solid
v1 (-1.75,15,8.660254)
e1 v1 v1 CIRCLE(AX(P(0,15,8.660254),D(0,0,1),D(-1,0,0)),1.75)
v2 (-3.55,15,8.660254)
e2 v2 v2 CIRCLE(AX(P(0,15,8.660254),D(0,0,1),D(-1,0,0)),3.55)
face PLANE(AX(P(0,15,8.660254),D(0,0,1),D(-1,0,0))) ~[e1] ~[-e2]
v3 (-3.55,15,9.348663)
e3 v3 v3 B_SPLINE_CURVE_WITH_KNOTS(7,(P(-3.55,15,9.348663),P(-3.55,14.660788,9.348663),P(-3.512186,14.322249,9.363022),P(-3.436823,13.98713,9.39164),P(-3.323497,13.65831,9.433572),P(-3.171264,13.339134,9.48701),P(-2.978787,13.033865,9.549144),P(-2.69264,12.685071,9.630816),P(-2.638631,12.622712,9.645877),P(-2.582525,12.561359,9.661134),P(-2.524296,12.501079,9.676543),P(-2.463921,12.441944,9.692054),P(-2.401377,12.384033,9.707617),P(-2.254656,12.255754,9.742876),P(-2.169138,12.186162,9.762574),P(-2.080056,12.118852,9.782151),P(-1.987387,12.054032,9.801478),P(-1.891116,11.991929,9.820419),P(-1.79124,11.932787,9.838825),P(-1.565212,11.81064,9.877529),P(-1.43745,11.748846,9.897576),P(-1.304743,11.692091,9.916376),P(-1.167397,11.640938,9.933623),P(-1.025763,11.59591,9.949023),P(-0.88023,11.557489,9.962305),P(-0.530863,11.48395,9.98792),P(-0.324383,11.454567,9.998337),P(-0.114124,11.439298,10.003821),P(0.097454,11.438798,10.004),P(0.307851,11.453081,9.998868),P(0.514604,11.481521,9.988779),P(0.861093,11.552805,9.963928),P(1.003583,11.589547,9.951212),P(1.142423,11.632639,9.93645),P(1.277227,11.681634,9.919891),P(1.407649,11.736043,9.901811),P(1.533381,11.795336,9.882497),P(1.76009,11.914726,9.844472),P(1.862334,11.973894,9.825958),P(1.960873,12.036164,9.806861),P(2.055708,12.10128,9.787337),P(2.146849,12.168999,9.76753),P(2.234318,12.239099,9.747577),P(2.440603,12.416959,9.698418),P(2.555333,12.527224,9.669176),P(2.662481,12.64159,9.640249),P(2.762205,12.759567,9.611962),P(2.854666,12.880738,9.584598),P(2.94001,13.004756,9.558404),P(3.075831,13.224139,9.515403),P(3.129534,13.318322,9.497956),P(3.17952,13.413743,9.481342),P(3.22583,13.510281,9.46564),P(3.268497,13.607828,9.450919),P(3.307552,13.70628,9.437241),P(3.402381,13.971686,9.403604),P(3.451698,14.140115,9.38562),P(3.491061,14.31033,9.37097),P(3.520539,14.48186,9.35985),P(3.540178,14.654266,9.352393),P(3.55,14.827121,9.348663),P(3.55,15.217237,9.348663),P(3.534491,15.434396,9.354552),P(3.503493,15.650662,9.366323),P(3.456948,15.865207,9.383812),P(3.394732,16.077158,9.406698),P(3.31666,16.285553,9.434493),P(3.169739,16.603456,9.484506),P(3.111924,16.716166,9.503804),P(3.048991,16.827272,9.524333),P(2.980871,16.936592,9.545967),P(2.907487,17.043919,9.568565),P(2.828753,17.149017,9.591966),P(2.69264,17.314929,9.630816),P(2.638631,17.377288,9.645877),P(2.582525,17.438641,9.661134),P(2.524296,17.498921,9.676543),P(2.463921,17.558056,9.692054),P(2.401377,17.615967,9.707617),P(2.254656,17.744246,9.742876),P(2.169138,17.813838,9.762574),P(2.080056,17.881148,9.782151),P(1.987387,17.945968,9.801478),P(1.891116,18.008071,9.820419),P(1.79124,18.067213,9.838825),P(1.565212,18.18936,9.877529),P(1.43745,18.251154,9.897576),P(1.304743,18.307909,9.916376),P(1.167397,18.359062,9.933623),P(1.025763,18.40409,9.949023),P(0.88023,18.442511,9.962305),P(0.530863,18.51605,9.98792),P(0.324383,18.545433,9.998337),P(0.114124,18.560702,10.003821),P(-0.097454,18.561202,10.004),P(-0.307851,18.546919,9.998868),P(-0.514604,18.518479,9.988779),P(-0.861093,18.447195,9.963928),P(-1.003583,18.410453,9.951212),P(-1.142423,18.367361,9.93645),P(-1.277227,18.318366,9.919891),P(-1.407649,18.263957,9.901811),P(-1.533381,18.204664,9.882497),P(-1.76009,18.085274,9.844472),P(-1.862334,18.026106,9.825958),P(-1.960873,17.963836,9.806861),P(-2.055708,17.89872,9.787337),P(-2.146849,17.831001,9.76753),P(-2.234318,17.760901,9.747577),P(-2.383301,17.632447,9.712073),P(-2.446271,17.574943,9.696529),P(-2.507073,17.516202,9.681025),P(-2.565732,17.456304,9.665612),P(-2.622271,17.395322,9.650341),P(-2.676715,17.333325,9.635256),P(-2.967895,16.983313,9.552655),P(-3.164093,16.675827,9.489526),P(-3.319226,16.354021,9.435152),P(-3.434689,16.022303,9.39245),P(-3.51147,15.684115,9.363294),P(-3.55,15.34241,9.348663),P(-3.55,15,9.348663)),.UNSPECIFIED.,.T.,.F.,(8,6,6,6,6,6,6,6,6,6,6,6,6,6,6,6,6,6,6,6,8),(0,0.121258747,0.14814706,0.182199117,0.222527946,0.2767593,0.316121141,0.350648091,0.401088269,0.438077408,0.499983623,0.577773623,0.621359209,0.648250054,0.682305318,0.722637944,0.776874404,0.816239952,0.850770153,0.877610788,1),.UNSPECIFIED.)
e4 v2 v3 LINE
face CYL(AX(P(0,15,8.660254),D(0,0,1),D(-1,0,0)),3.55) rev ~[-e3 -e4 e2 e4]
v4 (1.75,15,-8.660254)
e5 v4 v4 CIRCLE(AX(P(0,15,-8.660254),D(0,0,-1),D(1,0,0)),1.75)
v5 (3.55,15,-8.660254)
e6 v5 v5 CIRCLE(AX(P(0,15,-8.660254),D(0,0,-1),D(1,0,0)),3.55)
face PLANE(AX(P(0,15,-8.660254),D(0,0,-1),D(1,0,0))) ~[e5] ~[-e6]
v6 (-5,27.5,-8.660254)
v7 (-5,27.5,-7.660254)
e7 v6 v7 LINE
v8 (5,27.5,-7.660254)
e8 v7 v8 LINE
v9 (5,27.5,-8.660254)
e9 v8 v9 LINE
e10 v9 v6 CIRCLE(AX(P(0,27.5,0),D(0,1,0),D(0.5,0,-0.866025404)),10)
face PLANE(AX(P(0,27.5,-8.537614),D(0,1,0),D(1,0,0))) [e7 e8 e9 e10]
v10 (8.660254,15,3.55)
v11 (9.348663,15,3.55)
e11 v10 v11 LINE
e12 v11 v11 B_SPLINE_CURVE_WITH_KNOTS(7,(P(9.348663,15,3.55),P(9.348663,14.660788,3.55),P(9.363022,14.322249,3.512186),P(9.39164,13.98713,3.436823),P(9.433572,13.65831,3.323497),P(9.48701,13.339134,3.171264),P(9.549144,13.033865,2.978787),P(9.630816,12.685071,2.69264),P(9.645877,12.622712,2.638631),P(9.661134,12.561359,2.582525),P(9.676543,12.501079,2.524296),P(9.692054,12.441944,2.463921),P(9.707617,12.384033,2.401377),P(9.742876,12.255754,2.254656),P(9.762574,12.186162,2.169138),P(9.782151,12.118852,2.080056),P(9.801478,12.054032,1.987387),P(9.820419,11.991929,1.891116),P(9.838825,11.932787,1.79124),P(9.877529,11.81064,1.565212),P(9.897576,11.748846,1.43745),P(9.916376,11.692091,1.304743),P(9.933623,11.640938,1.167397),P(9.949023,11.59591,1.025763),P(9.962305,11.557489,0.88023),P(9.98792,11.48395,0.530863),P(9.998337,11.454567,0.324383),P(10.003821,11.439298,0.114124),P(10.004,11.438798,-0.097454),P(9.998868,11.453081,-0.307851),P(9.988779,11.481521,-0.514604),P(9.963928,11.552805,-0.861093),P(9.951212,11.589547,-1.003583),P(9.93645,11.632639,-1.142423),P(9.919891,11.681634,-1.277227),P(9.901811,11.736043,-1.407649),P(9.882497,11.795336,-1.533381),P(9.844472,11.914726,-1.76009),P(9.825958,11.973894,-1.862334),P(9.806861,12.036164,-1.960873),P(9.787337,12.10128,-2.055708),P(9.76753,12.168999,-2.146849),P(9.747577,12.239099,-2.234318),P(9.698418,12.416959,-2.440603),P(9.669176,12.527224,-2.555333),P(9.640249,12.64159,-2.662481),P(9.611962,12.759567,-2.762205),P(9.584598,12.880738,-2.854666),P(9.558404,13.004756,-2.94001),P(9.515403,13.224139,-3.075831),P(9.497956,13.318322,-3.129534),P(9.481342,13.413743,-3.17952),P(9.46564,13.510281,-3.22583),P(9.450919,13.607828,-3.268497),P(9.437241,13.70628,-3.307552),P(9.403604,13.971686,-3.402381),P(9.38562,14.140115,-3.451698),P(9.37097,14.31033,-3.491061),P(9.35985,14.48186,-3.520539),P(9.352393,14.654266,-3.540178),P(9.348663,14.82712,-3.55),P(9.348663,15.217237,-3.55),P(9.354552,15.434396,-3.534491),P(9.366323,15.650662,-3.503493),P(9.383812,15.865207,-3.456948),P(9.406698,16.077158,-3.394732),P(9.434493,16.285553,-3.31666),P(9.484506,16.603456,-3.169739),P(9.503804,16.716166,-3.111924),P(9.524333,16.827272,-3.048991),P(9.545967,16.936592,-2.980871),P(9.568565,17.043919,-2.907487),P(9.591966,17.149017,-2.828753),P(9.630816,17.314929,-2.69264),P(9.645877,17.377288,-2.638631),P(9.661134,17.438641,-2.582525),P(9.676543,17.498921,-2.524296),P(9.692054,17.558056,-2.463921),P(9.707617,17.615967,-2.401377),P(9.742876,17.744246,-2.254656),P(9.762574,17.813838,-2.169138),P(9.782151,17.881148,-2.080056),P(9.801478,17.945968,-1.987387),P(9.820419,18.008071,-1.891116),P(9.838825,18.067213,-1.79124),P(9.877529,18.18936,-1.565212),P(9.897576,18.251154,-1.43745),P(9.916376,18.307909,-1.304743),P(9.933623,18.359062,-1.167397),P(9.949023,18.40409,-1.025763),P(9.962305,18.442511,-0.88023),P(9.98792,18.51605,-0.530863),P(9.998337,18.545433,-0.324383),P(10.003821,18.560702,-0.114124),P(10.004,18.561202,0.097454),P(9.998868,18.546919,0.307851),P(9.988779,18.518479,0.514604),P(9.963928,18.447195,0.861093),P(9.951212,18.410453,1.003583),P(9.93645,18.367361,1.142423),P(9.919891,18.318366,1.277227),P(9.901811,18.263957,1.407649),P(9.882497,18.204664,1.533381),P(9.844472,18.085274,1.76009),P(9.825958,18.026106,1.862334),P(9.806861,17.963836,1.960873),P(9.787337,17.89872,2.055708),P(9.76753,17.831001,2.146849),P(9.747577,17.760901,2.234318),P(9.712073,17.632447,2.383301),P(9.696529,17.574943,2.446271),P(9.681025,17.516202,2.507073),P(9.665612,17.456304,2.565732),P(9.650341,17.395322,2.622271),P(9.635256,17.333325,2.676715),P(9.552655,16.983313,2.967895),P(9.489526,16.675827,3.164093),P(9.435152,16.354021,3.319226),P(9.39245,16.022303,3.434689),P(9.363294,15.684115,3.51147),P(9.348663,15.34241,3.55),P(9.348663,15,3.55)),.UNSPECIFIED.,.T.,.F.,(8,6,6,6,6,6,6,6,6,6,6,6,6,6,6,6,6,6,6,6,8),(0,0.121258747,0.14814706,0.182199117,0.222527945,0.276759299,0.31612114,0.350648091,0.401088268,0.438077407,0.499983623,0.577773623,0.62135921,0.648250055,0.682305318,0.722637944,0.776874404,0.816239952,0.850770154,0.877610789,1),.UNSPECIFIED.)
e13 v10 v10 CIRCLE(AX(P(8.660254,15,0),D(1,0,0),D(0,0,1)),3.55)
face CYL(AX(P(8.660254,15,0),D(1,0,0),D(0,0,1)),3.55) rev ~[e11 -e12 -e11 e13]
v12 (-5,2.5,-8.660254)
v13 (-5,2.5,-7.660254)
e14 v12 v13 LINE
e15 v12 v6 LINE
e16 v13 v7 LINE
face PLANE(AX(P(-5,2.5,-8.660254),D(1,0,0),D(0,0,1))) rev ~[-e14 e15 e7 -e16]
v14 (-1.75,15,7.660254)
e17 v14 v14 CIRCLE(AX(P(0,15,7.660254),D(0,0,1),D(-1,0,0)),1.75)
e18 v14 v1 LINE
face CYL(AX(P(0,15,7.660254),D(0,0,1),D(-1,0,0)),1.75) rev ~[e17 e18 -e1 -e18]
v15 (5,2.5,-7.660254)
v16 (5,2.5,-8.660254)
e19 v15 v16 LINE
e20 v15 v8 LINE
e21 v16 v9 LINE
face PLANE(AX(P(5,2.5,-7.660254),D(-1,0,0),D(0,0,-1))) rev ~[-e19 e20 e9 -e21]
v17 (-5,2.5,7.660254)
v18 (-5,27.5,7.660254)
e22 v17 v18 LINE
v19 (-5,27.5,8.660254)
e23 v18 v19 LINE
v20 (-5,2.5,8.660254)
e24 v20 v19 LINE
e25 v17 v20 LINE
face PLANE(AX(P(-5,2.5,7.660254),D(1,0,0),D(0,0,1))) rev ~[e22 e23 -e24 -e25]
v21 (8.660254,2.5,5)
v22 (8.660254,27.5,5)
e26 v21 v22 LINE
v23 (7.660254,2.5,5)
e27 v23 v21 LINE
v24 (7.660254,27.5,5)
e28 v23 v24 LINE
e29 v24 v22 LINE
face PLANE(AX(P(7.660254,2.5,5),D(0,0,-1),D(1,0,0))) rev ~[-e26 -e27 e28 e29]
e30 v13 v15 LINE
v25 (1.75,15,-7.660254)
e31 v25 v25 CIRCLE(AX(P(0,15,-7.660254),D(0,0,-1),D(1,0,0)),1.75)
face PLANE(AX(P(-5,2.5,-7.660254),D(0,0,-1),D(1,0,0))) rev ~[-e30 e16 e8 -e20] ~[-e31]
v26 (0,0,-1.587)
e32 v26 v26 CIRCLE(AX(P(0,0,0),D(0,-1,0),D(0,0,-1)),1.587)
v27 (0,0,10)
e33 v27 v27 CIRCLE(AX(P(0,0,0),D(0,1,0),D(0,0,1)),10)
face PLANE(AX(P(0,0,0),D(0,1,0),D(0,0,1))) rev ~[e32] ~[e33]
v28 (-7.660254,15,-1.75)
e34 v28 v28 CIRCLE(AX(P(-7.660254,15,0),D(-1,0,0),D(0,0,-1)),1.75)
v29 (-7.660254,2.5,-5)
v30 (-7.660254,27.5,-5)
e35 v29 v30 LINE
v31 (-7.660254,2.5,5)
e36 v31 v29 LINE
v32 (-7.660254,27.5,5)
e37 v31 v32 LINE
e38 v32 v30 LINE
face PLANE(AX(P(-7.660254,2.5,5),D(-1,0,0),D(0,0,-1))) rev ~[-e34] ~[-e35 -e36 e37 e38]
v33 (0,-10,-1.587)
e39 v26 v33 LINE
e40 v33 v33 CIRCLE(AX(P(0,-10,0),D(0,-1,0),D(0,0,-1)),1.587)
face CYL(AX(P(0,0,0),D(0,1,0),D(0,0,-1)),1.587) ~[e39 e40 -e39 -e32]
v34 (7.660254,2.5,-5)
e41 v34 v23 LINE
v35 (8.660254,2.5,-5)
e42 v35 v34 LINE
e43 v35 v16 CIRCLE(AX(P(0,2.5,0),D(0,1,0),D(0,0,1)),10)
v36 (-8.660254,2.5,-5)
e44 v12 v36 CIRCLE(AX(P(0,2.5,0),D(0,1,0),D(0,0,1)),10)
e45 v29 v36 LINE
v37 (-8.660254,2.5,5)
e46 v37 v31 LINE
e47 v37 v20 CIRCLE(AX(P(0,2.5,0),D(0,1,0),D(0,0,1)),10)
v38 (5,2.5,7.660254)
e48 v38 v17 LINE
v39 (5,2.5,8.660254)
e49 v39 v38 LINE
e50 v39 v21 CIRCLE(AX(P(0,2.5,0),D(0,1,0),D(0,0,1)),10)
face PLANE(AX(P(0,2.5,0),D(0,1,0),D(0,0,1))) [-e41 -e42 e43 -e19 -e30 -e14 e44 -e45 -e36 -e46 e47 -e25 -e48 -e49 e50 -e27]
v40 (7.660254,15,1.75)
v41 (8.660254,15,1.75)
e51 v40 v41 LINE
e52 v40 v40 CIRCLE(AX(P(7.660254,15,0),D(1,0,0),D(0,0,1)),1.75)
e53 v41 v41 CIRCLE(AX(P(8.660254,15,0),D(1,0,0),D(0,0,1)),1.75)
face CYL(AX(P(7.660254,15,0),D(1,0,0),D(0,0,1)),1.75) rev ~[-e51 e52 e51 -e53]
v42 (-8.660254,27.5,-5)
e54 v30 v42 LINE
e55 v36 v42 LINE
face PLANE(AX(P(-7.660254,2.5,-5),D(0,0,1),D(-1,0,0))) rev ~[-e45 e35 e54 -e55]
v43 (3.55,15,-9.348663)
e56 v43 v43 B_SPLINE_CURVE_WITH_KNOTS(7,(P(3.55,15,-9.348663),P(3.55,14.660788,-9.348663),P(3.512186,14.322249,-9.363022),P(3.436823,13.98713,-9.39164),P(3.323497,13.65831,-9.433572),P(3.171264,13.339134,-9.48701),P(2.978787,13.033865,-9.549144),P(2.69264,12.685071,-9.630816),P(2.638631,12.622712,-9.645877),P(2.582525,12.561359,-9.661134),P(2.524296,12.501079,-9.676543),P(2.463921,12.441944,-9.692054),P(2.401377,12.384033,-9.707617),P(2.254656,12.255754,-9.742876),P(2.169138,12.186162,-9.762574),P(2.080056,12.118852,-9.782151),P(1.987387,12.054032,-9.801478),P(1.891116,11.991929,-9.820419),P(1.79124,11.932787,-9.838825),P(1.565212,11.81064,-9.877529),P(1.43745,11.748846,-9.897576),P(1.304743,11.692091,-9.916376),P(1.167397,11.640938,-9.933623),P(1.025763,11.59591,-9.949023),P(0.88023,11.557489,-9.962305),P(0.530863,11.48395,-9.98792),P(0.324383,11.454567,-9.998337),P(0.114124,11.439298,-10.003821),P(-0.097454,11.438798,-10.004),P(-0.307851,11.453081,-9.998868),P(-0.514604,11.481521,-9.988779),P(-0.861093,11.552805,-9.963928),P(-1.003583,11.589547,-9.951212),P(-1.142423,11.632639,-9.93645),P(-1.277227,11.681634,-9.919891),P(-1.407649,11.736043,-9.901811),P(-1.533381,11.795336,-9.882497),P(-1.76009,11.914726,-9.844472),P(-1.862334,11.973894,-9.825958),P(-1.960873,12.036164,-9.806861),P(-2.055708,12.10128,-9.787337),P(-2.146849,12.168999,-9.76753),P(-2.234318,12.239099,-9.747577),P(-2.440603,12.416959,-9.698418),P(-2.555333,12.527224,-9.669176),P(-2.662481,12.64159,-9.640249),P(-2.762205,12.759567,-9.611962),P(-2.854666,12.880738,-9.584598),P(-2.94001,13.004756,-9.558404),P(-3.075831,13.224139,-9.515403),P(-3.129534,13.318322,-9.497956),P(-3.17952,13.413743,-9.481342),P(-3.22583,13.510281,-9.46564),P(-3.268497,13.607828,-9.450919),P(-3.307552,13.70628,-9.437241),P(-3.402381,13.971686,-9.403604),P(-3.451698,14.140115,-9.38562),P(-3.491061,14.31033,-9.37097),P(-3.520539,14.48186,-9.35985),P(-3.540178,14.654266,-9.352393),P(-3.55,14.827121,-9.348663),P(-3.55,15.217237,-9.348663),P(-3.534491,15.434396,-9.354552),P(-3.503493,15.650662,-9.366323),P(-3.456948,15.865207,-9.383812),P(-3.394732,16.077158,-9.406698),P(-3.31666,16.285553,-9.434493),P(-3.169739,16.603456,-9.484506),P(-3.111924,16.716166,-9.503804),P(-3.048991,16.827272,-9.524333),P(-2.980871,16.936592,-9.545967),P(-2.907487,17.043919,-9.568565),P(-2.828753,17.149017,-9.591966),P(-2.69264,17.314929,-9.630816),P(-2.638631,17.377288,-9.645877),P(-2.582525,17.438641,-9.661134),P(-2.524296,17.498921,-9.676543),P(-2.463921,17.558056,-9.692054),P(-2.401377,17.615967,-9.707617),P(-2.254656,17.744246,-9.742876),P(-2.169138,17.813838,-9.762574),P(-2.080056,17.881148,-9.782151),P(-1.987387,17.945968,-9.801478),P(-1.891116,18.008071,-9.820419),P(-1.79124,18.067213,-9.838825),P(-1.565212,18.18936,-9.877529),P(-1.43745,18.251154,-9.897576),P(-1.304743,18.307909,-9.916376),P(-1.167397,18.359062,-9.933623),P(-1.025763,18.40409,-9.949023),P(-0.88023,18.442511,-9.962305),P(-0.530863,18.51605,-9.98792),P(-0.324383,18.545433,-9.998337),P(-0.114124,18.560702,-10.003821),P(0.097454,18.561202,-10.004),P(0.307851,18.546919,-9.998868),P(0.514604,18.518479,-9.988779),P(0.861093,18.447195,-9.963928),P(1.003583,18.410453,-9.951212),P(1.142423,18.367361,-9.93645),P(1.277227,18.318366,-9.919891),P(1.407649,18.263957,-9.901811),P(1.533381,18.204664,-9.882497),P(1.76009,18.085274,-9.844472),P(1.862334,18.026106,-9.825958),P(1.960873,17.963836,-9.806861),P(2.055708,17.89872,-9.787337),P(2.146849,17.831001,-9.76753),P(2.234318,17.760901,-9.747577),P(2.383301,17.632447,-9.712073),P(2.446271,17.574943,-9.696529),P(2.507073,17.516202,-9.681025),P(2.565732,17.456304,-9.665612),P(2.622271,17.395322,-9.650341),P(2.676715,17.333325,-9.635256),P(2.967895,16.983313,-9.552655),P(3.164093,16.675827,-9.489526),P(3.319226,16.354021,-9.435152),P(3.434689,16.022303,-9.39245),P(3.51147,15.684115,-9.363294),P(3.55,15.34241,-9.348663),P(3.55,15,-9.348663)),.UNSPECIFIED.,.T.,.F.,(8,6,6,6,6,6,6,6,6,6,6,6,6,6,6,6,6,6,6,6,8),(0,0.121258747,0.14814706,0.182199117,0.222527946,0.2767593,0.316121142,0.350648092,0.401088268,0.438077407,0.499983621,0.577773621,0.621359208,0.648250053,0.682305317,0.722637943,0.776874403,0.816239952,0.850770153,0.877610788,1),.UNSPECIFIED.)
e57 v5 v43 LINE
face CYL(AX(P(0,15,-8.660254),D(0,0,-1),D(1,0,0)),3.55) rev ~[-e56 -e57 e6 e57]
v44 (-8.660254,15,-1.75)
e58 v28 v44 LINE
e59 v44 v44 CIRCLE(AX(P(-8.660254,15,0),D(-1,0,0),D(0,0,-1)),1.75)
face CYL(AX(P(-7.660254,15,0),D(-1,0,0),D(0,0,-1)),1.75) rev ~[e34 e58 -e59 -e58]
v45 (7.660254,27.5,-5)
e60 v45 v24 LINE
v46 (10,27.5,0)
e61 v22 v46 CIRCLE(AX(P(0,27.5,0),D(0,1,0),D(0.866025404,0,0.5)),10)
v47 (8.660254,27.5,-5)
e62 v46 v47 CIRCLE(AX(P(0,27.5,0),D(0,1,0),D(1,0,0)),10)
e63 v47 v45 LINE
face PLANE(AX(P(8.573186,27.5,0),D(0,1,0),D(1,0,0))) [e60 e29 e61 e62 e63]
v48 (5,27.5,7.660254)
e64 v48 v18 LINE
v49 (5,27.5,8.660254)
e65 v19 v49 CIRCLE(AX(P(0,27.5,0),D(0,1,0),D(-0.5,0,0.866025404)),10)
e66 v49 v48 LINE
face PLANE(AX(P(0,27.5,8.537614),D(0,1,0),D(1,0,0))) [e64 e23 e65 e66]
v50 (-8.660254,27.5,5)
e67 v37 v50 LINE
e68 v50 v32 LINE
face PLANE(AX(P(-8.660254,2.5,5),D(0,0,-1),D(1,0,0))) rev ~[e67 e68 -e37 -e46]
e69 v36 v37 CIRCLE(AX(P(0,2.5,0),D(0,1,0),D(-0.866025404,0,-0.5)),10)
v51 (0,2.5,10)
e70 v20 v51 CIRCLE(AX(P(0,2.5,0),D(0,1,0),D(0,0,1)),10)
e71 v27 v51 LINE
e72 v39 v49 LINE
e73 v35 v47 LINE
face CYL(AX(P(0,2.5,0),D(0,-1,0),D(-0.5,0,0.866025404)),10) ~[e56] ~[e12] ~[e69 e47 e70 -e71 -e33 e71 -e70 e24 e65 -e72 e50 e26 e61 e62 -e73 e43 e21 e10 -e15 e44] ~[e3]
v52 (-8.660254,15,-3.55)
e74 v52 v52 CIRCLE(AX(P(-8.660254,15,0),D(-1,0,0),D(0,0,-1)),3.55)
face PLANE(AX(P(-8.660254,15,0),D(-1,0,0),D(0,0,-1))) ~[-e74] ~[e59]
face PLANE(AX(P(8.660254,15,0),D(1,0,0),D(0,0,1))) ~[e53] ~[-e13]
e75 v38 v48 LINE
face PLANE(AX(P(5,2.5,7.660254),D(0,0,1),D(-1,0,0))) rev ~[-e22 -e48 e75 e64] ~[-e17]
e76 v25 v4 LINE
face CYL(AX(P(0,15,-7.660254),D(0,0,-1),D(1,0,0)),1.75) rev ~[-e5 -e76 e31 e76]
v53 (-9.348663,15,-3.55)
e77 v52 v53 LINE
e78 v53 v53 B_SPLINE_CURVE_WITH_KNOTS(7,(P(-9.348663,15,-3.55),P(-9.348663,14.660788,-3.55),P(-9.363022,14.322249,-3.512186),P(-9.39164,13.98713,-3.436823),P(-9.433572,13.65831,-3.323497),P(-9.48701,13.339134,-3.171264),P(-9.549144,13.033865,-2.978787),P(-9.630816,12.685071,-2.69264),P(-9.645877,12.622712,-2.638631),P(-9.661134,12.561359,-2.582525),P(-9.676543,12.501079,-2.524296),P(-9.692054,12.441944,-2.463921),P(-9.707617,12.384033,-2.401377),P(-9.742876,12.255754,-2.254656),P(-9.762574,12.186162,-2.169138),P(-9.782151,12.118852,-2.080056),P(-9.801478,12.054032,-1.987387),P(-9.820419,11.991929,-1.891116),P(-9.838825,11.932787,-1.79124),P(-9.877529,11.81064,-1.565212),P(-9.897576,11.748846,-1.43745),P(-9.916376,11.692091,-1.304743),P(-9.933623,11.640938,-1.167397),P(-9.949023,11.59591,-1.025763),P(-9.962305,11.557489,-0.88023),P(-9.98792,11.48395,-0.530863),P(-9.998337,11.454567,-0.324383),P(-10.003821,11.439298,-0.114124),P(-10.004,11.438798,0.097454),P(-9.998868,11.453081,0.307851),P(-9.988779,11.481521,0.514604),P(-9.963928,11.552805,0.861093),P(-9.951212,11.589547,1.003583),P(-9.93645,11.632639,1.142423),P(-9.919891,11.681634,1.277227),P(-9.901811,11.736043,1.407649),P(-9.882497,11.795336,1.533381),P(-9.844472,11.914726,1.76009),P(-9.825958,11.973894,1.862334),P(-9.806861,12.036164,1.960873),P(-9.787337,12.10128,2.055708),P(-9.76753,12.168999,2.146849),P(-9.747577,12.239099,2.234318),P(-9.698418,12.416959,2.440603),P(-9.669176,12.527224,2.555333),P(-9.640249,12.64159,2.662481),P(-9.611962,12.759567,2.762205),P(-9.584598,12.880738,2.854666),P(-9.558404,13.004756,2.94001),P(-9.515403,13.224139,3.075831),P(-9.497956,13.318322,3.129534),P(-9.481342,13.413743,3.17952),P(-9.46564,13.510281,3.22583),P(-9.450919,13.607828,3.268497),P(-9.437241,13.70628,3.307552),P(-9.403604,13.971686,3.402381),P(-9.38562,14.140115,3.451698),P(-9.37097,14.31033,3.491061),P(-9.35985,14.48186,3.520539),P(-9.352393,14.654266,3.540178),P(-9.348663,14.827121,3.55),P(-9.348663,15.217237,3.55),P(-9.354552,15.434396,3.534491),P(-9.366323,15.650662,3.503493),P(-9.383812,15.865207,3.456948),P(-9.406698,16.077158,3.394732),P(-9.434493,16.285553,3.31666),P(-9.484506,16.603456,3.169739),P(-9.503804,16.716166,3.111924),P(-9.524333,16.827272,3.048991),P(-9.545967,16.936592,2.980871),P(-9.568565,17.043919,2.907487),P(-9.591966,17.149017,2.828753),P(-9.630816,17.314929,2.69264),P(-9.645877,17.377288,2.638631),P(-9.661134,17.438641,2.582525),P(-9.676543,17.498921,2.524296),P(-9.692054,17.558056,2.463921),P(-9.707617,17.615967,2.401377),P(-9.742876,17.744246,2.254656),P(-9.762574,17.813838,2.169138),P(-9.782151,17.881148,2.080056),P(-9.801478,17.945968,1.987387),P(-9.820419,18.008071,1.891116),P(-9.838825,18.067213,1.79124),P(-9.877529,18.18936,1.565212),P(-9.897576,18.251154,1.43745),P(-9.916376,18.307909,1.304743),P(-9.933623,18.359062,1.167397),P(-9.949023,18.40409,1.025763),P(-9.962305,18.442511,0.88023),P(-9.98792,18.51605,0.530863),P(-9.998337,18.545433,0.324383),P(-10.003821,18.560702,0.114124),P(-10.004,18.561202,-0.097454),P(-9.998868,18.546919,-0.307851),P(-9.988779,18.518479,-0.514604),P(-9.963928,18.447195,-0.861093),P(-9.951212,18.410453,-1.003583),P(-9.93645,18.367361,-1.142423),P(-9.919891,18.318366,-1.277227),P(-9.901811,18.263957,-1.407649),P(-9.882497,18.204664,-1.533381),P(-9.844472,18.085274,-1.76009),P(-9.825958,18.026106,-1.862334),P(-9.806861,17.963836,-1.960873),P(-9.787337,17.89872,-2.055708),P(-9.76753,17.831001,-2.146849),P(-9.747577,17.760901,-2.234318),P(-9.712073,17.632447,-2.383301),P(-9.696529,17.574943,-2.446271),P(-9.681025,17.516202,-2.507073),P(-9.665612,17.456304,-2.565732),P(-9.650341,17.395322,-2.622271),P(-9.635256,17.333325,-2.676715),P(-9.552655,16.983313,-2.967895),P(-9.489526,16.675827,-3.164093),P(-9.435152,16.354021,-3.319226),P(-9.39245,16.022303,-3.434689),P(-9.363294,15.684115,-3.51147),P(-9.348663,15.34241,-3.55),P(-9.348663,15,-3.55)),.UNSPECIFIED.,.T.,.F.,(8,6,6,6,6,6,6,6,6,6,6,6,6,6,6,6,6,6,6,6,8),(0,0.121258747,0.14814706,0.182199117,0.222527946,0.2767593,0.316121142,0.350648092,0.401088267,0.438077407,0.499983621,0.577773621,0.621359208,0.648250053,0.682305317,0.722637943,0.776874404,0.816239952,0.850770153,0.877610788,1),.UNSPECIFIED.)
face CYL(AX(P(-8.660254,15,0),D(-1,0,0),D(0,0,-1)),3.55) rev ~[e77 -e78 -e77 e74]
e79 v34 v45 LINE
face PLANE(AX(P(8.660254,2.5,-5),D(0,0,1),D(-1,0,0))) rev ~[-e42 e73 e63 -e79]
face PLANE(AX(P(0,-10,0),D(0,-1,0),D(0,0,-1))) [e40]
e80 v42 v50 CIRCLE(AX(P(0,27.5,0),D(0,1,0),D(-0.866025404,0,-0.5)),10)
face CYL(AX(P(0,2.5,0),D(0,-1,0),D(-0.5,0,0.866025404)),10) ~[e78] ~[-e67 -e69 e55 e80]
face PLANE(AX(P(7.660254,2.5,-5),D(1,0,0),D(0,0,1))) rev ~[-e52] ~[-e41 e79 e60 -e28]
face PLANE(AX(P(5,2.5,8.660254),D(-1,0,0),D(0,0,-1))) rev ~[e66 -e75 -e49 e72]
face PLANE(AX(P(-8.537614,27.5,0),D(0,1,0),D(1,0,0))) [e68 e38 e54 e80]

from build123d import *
from build123d.topology import SkipClean

# Parameters (mm, degrees)
SKETCH1_R           = 10
BOSS_EXTRUDE1_DEPTH = 2.5
BOSS_EXTRUDE2_DEPTH = 25
SKETCH5_R           = 1.587
BOSS_EXTRUDE3_DEPTH = 10
CIRPATTERN2_COUNT   = 4


with BuildPart() as part:
    # Sketch1 → Boss-Extrude1 (new body)
    with BuildSketch(Plane(origin=(0, 0, 0), x_dir=(1, 0, 0), z_dir=(0, 1, 0))):
        with Locations(Location((0, 0, 0), (0, 0, 270))):
            Circle(SKETCH1_R)
    extrude(amount=BOSS_EXTRUDE1_DEPTH)

    # Sketch3 → Boss-Extrude2 (add)
    with BuildSketch(Plane(origin=(0, 2.5, 0), x_dir=(1, 0, 0), z_dir=(0, 1, 0))):
        with BuildLine():
            Line((-7.660254038, 5), (-8.660254038, 5))
            ThreePointArc((-8.660254038, 5), (-10, 0), (-8.660254038, -5))
            Line((-8.660254038, -5), (-7.660254038, -5))
            Line((-7.660254038, -5), (-7.660254038, 5))
        make_face()
        with BuildLine():
            Line((-5, -7.660254038), (-5, -8.660254038))
            ThreePointArc((-5, -8.660254038), (0, -10), (5, -8.660254038))
            Line((5, -8.660254038), (5, -7.660254038))
            Line((5, -7.660254038), (-5, -7.660254038))
        make_face()
        with BuildLine():
            ThreePointArc((10, 0), (9.659258263, 2.588190451), (8.660254038, 5))
            Line((8.660254038, 5), (7.660254038, 5))
            Line((7.660254038, 5), (7.660254038, -5))
            Line((7.660254038, -5), (8.660254038, -5))
            ThreePointArc((8.660254038, -5), (9.659258263, -2.588190451), (10, 0))
        make_face()
        with BuildLine():
            ThreePointArc((5, 8.660254038), (0, 10), (-5, 8.660254038))
            Line((-5, 8.660254038), (-5, 7.660254038))
            Line((-5, 7.660254038), (5, 7.660254038))
            Line((5, 7.660254038), (5, 8.660254038))
        make_face()
    extrude(amount=BOSS_EXTRUDE2_DEPTH)

    # Sketch5 → Boss-Extrude3 (add)
    with BuildSketch(Plane(origin=(0, 0, 0), x_dir=(-1, 0, 0), z_dir=(0, -1, 0))):
        with Locations(Location((0, 0, 0), (0, 0, 90))):
            Circle(SKETCH5_R)
    extrude(amount=BOSS_EXTRUDE3_DEPTH)

    # Sketch7 → Cut-Revolve1 (revolve, cut)
    with BuildSketch(Plane(origin=(0, 15, 0), x_dir=(1, 0, 0), z_dir=(0, 1, 0))):
        Polygon((0, 7.660254038), (1.75, 7.660254038), (1.75, 8.660254038), (3.55, 8.660254038), (3.55, 10.3184344), (0, 10.3184344), align=None)
    cut_revolve1 = revolve(axis=Axis((0, 15, 0), (0, 0, -1)), mode=Mode.SUBTRACT)

    # CirPattern2: Cut-Revolve1 ×4 about axis
    with SkipClean():  # the faces are left unmerged after this step: merging them gives an invalid solid
        cirpattern2_axis = Axis((0, 0, 0), (0, 1, 0))
        for i in range(1, CIRPATTERN2_COUNT):
            add(cut_revolve1.rotate(cirpattern2_axis, i * 360 / CIRPATTERN2_COUNT), mode=Mode.SUBTRACT)


solid = part.part
